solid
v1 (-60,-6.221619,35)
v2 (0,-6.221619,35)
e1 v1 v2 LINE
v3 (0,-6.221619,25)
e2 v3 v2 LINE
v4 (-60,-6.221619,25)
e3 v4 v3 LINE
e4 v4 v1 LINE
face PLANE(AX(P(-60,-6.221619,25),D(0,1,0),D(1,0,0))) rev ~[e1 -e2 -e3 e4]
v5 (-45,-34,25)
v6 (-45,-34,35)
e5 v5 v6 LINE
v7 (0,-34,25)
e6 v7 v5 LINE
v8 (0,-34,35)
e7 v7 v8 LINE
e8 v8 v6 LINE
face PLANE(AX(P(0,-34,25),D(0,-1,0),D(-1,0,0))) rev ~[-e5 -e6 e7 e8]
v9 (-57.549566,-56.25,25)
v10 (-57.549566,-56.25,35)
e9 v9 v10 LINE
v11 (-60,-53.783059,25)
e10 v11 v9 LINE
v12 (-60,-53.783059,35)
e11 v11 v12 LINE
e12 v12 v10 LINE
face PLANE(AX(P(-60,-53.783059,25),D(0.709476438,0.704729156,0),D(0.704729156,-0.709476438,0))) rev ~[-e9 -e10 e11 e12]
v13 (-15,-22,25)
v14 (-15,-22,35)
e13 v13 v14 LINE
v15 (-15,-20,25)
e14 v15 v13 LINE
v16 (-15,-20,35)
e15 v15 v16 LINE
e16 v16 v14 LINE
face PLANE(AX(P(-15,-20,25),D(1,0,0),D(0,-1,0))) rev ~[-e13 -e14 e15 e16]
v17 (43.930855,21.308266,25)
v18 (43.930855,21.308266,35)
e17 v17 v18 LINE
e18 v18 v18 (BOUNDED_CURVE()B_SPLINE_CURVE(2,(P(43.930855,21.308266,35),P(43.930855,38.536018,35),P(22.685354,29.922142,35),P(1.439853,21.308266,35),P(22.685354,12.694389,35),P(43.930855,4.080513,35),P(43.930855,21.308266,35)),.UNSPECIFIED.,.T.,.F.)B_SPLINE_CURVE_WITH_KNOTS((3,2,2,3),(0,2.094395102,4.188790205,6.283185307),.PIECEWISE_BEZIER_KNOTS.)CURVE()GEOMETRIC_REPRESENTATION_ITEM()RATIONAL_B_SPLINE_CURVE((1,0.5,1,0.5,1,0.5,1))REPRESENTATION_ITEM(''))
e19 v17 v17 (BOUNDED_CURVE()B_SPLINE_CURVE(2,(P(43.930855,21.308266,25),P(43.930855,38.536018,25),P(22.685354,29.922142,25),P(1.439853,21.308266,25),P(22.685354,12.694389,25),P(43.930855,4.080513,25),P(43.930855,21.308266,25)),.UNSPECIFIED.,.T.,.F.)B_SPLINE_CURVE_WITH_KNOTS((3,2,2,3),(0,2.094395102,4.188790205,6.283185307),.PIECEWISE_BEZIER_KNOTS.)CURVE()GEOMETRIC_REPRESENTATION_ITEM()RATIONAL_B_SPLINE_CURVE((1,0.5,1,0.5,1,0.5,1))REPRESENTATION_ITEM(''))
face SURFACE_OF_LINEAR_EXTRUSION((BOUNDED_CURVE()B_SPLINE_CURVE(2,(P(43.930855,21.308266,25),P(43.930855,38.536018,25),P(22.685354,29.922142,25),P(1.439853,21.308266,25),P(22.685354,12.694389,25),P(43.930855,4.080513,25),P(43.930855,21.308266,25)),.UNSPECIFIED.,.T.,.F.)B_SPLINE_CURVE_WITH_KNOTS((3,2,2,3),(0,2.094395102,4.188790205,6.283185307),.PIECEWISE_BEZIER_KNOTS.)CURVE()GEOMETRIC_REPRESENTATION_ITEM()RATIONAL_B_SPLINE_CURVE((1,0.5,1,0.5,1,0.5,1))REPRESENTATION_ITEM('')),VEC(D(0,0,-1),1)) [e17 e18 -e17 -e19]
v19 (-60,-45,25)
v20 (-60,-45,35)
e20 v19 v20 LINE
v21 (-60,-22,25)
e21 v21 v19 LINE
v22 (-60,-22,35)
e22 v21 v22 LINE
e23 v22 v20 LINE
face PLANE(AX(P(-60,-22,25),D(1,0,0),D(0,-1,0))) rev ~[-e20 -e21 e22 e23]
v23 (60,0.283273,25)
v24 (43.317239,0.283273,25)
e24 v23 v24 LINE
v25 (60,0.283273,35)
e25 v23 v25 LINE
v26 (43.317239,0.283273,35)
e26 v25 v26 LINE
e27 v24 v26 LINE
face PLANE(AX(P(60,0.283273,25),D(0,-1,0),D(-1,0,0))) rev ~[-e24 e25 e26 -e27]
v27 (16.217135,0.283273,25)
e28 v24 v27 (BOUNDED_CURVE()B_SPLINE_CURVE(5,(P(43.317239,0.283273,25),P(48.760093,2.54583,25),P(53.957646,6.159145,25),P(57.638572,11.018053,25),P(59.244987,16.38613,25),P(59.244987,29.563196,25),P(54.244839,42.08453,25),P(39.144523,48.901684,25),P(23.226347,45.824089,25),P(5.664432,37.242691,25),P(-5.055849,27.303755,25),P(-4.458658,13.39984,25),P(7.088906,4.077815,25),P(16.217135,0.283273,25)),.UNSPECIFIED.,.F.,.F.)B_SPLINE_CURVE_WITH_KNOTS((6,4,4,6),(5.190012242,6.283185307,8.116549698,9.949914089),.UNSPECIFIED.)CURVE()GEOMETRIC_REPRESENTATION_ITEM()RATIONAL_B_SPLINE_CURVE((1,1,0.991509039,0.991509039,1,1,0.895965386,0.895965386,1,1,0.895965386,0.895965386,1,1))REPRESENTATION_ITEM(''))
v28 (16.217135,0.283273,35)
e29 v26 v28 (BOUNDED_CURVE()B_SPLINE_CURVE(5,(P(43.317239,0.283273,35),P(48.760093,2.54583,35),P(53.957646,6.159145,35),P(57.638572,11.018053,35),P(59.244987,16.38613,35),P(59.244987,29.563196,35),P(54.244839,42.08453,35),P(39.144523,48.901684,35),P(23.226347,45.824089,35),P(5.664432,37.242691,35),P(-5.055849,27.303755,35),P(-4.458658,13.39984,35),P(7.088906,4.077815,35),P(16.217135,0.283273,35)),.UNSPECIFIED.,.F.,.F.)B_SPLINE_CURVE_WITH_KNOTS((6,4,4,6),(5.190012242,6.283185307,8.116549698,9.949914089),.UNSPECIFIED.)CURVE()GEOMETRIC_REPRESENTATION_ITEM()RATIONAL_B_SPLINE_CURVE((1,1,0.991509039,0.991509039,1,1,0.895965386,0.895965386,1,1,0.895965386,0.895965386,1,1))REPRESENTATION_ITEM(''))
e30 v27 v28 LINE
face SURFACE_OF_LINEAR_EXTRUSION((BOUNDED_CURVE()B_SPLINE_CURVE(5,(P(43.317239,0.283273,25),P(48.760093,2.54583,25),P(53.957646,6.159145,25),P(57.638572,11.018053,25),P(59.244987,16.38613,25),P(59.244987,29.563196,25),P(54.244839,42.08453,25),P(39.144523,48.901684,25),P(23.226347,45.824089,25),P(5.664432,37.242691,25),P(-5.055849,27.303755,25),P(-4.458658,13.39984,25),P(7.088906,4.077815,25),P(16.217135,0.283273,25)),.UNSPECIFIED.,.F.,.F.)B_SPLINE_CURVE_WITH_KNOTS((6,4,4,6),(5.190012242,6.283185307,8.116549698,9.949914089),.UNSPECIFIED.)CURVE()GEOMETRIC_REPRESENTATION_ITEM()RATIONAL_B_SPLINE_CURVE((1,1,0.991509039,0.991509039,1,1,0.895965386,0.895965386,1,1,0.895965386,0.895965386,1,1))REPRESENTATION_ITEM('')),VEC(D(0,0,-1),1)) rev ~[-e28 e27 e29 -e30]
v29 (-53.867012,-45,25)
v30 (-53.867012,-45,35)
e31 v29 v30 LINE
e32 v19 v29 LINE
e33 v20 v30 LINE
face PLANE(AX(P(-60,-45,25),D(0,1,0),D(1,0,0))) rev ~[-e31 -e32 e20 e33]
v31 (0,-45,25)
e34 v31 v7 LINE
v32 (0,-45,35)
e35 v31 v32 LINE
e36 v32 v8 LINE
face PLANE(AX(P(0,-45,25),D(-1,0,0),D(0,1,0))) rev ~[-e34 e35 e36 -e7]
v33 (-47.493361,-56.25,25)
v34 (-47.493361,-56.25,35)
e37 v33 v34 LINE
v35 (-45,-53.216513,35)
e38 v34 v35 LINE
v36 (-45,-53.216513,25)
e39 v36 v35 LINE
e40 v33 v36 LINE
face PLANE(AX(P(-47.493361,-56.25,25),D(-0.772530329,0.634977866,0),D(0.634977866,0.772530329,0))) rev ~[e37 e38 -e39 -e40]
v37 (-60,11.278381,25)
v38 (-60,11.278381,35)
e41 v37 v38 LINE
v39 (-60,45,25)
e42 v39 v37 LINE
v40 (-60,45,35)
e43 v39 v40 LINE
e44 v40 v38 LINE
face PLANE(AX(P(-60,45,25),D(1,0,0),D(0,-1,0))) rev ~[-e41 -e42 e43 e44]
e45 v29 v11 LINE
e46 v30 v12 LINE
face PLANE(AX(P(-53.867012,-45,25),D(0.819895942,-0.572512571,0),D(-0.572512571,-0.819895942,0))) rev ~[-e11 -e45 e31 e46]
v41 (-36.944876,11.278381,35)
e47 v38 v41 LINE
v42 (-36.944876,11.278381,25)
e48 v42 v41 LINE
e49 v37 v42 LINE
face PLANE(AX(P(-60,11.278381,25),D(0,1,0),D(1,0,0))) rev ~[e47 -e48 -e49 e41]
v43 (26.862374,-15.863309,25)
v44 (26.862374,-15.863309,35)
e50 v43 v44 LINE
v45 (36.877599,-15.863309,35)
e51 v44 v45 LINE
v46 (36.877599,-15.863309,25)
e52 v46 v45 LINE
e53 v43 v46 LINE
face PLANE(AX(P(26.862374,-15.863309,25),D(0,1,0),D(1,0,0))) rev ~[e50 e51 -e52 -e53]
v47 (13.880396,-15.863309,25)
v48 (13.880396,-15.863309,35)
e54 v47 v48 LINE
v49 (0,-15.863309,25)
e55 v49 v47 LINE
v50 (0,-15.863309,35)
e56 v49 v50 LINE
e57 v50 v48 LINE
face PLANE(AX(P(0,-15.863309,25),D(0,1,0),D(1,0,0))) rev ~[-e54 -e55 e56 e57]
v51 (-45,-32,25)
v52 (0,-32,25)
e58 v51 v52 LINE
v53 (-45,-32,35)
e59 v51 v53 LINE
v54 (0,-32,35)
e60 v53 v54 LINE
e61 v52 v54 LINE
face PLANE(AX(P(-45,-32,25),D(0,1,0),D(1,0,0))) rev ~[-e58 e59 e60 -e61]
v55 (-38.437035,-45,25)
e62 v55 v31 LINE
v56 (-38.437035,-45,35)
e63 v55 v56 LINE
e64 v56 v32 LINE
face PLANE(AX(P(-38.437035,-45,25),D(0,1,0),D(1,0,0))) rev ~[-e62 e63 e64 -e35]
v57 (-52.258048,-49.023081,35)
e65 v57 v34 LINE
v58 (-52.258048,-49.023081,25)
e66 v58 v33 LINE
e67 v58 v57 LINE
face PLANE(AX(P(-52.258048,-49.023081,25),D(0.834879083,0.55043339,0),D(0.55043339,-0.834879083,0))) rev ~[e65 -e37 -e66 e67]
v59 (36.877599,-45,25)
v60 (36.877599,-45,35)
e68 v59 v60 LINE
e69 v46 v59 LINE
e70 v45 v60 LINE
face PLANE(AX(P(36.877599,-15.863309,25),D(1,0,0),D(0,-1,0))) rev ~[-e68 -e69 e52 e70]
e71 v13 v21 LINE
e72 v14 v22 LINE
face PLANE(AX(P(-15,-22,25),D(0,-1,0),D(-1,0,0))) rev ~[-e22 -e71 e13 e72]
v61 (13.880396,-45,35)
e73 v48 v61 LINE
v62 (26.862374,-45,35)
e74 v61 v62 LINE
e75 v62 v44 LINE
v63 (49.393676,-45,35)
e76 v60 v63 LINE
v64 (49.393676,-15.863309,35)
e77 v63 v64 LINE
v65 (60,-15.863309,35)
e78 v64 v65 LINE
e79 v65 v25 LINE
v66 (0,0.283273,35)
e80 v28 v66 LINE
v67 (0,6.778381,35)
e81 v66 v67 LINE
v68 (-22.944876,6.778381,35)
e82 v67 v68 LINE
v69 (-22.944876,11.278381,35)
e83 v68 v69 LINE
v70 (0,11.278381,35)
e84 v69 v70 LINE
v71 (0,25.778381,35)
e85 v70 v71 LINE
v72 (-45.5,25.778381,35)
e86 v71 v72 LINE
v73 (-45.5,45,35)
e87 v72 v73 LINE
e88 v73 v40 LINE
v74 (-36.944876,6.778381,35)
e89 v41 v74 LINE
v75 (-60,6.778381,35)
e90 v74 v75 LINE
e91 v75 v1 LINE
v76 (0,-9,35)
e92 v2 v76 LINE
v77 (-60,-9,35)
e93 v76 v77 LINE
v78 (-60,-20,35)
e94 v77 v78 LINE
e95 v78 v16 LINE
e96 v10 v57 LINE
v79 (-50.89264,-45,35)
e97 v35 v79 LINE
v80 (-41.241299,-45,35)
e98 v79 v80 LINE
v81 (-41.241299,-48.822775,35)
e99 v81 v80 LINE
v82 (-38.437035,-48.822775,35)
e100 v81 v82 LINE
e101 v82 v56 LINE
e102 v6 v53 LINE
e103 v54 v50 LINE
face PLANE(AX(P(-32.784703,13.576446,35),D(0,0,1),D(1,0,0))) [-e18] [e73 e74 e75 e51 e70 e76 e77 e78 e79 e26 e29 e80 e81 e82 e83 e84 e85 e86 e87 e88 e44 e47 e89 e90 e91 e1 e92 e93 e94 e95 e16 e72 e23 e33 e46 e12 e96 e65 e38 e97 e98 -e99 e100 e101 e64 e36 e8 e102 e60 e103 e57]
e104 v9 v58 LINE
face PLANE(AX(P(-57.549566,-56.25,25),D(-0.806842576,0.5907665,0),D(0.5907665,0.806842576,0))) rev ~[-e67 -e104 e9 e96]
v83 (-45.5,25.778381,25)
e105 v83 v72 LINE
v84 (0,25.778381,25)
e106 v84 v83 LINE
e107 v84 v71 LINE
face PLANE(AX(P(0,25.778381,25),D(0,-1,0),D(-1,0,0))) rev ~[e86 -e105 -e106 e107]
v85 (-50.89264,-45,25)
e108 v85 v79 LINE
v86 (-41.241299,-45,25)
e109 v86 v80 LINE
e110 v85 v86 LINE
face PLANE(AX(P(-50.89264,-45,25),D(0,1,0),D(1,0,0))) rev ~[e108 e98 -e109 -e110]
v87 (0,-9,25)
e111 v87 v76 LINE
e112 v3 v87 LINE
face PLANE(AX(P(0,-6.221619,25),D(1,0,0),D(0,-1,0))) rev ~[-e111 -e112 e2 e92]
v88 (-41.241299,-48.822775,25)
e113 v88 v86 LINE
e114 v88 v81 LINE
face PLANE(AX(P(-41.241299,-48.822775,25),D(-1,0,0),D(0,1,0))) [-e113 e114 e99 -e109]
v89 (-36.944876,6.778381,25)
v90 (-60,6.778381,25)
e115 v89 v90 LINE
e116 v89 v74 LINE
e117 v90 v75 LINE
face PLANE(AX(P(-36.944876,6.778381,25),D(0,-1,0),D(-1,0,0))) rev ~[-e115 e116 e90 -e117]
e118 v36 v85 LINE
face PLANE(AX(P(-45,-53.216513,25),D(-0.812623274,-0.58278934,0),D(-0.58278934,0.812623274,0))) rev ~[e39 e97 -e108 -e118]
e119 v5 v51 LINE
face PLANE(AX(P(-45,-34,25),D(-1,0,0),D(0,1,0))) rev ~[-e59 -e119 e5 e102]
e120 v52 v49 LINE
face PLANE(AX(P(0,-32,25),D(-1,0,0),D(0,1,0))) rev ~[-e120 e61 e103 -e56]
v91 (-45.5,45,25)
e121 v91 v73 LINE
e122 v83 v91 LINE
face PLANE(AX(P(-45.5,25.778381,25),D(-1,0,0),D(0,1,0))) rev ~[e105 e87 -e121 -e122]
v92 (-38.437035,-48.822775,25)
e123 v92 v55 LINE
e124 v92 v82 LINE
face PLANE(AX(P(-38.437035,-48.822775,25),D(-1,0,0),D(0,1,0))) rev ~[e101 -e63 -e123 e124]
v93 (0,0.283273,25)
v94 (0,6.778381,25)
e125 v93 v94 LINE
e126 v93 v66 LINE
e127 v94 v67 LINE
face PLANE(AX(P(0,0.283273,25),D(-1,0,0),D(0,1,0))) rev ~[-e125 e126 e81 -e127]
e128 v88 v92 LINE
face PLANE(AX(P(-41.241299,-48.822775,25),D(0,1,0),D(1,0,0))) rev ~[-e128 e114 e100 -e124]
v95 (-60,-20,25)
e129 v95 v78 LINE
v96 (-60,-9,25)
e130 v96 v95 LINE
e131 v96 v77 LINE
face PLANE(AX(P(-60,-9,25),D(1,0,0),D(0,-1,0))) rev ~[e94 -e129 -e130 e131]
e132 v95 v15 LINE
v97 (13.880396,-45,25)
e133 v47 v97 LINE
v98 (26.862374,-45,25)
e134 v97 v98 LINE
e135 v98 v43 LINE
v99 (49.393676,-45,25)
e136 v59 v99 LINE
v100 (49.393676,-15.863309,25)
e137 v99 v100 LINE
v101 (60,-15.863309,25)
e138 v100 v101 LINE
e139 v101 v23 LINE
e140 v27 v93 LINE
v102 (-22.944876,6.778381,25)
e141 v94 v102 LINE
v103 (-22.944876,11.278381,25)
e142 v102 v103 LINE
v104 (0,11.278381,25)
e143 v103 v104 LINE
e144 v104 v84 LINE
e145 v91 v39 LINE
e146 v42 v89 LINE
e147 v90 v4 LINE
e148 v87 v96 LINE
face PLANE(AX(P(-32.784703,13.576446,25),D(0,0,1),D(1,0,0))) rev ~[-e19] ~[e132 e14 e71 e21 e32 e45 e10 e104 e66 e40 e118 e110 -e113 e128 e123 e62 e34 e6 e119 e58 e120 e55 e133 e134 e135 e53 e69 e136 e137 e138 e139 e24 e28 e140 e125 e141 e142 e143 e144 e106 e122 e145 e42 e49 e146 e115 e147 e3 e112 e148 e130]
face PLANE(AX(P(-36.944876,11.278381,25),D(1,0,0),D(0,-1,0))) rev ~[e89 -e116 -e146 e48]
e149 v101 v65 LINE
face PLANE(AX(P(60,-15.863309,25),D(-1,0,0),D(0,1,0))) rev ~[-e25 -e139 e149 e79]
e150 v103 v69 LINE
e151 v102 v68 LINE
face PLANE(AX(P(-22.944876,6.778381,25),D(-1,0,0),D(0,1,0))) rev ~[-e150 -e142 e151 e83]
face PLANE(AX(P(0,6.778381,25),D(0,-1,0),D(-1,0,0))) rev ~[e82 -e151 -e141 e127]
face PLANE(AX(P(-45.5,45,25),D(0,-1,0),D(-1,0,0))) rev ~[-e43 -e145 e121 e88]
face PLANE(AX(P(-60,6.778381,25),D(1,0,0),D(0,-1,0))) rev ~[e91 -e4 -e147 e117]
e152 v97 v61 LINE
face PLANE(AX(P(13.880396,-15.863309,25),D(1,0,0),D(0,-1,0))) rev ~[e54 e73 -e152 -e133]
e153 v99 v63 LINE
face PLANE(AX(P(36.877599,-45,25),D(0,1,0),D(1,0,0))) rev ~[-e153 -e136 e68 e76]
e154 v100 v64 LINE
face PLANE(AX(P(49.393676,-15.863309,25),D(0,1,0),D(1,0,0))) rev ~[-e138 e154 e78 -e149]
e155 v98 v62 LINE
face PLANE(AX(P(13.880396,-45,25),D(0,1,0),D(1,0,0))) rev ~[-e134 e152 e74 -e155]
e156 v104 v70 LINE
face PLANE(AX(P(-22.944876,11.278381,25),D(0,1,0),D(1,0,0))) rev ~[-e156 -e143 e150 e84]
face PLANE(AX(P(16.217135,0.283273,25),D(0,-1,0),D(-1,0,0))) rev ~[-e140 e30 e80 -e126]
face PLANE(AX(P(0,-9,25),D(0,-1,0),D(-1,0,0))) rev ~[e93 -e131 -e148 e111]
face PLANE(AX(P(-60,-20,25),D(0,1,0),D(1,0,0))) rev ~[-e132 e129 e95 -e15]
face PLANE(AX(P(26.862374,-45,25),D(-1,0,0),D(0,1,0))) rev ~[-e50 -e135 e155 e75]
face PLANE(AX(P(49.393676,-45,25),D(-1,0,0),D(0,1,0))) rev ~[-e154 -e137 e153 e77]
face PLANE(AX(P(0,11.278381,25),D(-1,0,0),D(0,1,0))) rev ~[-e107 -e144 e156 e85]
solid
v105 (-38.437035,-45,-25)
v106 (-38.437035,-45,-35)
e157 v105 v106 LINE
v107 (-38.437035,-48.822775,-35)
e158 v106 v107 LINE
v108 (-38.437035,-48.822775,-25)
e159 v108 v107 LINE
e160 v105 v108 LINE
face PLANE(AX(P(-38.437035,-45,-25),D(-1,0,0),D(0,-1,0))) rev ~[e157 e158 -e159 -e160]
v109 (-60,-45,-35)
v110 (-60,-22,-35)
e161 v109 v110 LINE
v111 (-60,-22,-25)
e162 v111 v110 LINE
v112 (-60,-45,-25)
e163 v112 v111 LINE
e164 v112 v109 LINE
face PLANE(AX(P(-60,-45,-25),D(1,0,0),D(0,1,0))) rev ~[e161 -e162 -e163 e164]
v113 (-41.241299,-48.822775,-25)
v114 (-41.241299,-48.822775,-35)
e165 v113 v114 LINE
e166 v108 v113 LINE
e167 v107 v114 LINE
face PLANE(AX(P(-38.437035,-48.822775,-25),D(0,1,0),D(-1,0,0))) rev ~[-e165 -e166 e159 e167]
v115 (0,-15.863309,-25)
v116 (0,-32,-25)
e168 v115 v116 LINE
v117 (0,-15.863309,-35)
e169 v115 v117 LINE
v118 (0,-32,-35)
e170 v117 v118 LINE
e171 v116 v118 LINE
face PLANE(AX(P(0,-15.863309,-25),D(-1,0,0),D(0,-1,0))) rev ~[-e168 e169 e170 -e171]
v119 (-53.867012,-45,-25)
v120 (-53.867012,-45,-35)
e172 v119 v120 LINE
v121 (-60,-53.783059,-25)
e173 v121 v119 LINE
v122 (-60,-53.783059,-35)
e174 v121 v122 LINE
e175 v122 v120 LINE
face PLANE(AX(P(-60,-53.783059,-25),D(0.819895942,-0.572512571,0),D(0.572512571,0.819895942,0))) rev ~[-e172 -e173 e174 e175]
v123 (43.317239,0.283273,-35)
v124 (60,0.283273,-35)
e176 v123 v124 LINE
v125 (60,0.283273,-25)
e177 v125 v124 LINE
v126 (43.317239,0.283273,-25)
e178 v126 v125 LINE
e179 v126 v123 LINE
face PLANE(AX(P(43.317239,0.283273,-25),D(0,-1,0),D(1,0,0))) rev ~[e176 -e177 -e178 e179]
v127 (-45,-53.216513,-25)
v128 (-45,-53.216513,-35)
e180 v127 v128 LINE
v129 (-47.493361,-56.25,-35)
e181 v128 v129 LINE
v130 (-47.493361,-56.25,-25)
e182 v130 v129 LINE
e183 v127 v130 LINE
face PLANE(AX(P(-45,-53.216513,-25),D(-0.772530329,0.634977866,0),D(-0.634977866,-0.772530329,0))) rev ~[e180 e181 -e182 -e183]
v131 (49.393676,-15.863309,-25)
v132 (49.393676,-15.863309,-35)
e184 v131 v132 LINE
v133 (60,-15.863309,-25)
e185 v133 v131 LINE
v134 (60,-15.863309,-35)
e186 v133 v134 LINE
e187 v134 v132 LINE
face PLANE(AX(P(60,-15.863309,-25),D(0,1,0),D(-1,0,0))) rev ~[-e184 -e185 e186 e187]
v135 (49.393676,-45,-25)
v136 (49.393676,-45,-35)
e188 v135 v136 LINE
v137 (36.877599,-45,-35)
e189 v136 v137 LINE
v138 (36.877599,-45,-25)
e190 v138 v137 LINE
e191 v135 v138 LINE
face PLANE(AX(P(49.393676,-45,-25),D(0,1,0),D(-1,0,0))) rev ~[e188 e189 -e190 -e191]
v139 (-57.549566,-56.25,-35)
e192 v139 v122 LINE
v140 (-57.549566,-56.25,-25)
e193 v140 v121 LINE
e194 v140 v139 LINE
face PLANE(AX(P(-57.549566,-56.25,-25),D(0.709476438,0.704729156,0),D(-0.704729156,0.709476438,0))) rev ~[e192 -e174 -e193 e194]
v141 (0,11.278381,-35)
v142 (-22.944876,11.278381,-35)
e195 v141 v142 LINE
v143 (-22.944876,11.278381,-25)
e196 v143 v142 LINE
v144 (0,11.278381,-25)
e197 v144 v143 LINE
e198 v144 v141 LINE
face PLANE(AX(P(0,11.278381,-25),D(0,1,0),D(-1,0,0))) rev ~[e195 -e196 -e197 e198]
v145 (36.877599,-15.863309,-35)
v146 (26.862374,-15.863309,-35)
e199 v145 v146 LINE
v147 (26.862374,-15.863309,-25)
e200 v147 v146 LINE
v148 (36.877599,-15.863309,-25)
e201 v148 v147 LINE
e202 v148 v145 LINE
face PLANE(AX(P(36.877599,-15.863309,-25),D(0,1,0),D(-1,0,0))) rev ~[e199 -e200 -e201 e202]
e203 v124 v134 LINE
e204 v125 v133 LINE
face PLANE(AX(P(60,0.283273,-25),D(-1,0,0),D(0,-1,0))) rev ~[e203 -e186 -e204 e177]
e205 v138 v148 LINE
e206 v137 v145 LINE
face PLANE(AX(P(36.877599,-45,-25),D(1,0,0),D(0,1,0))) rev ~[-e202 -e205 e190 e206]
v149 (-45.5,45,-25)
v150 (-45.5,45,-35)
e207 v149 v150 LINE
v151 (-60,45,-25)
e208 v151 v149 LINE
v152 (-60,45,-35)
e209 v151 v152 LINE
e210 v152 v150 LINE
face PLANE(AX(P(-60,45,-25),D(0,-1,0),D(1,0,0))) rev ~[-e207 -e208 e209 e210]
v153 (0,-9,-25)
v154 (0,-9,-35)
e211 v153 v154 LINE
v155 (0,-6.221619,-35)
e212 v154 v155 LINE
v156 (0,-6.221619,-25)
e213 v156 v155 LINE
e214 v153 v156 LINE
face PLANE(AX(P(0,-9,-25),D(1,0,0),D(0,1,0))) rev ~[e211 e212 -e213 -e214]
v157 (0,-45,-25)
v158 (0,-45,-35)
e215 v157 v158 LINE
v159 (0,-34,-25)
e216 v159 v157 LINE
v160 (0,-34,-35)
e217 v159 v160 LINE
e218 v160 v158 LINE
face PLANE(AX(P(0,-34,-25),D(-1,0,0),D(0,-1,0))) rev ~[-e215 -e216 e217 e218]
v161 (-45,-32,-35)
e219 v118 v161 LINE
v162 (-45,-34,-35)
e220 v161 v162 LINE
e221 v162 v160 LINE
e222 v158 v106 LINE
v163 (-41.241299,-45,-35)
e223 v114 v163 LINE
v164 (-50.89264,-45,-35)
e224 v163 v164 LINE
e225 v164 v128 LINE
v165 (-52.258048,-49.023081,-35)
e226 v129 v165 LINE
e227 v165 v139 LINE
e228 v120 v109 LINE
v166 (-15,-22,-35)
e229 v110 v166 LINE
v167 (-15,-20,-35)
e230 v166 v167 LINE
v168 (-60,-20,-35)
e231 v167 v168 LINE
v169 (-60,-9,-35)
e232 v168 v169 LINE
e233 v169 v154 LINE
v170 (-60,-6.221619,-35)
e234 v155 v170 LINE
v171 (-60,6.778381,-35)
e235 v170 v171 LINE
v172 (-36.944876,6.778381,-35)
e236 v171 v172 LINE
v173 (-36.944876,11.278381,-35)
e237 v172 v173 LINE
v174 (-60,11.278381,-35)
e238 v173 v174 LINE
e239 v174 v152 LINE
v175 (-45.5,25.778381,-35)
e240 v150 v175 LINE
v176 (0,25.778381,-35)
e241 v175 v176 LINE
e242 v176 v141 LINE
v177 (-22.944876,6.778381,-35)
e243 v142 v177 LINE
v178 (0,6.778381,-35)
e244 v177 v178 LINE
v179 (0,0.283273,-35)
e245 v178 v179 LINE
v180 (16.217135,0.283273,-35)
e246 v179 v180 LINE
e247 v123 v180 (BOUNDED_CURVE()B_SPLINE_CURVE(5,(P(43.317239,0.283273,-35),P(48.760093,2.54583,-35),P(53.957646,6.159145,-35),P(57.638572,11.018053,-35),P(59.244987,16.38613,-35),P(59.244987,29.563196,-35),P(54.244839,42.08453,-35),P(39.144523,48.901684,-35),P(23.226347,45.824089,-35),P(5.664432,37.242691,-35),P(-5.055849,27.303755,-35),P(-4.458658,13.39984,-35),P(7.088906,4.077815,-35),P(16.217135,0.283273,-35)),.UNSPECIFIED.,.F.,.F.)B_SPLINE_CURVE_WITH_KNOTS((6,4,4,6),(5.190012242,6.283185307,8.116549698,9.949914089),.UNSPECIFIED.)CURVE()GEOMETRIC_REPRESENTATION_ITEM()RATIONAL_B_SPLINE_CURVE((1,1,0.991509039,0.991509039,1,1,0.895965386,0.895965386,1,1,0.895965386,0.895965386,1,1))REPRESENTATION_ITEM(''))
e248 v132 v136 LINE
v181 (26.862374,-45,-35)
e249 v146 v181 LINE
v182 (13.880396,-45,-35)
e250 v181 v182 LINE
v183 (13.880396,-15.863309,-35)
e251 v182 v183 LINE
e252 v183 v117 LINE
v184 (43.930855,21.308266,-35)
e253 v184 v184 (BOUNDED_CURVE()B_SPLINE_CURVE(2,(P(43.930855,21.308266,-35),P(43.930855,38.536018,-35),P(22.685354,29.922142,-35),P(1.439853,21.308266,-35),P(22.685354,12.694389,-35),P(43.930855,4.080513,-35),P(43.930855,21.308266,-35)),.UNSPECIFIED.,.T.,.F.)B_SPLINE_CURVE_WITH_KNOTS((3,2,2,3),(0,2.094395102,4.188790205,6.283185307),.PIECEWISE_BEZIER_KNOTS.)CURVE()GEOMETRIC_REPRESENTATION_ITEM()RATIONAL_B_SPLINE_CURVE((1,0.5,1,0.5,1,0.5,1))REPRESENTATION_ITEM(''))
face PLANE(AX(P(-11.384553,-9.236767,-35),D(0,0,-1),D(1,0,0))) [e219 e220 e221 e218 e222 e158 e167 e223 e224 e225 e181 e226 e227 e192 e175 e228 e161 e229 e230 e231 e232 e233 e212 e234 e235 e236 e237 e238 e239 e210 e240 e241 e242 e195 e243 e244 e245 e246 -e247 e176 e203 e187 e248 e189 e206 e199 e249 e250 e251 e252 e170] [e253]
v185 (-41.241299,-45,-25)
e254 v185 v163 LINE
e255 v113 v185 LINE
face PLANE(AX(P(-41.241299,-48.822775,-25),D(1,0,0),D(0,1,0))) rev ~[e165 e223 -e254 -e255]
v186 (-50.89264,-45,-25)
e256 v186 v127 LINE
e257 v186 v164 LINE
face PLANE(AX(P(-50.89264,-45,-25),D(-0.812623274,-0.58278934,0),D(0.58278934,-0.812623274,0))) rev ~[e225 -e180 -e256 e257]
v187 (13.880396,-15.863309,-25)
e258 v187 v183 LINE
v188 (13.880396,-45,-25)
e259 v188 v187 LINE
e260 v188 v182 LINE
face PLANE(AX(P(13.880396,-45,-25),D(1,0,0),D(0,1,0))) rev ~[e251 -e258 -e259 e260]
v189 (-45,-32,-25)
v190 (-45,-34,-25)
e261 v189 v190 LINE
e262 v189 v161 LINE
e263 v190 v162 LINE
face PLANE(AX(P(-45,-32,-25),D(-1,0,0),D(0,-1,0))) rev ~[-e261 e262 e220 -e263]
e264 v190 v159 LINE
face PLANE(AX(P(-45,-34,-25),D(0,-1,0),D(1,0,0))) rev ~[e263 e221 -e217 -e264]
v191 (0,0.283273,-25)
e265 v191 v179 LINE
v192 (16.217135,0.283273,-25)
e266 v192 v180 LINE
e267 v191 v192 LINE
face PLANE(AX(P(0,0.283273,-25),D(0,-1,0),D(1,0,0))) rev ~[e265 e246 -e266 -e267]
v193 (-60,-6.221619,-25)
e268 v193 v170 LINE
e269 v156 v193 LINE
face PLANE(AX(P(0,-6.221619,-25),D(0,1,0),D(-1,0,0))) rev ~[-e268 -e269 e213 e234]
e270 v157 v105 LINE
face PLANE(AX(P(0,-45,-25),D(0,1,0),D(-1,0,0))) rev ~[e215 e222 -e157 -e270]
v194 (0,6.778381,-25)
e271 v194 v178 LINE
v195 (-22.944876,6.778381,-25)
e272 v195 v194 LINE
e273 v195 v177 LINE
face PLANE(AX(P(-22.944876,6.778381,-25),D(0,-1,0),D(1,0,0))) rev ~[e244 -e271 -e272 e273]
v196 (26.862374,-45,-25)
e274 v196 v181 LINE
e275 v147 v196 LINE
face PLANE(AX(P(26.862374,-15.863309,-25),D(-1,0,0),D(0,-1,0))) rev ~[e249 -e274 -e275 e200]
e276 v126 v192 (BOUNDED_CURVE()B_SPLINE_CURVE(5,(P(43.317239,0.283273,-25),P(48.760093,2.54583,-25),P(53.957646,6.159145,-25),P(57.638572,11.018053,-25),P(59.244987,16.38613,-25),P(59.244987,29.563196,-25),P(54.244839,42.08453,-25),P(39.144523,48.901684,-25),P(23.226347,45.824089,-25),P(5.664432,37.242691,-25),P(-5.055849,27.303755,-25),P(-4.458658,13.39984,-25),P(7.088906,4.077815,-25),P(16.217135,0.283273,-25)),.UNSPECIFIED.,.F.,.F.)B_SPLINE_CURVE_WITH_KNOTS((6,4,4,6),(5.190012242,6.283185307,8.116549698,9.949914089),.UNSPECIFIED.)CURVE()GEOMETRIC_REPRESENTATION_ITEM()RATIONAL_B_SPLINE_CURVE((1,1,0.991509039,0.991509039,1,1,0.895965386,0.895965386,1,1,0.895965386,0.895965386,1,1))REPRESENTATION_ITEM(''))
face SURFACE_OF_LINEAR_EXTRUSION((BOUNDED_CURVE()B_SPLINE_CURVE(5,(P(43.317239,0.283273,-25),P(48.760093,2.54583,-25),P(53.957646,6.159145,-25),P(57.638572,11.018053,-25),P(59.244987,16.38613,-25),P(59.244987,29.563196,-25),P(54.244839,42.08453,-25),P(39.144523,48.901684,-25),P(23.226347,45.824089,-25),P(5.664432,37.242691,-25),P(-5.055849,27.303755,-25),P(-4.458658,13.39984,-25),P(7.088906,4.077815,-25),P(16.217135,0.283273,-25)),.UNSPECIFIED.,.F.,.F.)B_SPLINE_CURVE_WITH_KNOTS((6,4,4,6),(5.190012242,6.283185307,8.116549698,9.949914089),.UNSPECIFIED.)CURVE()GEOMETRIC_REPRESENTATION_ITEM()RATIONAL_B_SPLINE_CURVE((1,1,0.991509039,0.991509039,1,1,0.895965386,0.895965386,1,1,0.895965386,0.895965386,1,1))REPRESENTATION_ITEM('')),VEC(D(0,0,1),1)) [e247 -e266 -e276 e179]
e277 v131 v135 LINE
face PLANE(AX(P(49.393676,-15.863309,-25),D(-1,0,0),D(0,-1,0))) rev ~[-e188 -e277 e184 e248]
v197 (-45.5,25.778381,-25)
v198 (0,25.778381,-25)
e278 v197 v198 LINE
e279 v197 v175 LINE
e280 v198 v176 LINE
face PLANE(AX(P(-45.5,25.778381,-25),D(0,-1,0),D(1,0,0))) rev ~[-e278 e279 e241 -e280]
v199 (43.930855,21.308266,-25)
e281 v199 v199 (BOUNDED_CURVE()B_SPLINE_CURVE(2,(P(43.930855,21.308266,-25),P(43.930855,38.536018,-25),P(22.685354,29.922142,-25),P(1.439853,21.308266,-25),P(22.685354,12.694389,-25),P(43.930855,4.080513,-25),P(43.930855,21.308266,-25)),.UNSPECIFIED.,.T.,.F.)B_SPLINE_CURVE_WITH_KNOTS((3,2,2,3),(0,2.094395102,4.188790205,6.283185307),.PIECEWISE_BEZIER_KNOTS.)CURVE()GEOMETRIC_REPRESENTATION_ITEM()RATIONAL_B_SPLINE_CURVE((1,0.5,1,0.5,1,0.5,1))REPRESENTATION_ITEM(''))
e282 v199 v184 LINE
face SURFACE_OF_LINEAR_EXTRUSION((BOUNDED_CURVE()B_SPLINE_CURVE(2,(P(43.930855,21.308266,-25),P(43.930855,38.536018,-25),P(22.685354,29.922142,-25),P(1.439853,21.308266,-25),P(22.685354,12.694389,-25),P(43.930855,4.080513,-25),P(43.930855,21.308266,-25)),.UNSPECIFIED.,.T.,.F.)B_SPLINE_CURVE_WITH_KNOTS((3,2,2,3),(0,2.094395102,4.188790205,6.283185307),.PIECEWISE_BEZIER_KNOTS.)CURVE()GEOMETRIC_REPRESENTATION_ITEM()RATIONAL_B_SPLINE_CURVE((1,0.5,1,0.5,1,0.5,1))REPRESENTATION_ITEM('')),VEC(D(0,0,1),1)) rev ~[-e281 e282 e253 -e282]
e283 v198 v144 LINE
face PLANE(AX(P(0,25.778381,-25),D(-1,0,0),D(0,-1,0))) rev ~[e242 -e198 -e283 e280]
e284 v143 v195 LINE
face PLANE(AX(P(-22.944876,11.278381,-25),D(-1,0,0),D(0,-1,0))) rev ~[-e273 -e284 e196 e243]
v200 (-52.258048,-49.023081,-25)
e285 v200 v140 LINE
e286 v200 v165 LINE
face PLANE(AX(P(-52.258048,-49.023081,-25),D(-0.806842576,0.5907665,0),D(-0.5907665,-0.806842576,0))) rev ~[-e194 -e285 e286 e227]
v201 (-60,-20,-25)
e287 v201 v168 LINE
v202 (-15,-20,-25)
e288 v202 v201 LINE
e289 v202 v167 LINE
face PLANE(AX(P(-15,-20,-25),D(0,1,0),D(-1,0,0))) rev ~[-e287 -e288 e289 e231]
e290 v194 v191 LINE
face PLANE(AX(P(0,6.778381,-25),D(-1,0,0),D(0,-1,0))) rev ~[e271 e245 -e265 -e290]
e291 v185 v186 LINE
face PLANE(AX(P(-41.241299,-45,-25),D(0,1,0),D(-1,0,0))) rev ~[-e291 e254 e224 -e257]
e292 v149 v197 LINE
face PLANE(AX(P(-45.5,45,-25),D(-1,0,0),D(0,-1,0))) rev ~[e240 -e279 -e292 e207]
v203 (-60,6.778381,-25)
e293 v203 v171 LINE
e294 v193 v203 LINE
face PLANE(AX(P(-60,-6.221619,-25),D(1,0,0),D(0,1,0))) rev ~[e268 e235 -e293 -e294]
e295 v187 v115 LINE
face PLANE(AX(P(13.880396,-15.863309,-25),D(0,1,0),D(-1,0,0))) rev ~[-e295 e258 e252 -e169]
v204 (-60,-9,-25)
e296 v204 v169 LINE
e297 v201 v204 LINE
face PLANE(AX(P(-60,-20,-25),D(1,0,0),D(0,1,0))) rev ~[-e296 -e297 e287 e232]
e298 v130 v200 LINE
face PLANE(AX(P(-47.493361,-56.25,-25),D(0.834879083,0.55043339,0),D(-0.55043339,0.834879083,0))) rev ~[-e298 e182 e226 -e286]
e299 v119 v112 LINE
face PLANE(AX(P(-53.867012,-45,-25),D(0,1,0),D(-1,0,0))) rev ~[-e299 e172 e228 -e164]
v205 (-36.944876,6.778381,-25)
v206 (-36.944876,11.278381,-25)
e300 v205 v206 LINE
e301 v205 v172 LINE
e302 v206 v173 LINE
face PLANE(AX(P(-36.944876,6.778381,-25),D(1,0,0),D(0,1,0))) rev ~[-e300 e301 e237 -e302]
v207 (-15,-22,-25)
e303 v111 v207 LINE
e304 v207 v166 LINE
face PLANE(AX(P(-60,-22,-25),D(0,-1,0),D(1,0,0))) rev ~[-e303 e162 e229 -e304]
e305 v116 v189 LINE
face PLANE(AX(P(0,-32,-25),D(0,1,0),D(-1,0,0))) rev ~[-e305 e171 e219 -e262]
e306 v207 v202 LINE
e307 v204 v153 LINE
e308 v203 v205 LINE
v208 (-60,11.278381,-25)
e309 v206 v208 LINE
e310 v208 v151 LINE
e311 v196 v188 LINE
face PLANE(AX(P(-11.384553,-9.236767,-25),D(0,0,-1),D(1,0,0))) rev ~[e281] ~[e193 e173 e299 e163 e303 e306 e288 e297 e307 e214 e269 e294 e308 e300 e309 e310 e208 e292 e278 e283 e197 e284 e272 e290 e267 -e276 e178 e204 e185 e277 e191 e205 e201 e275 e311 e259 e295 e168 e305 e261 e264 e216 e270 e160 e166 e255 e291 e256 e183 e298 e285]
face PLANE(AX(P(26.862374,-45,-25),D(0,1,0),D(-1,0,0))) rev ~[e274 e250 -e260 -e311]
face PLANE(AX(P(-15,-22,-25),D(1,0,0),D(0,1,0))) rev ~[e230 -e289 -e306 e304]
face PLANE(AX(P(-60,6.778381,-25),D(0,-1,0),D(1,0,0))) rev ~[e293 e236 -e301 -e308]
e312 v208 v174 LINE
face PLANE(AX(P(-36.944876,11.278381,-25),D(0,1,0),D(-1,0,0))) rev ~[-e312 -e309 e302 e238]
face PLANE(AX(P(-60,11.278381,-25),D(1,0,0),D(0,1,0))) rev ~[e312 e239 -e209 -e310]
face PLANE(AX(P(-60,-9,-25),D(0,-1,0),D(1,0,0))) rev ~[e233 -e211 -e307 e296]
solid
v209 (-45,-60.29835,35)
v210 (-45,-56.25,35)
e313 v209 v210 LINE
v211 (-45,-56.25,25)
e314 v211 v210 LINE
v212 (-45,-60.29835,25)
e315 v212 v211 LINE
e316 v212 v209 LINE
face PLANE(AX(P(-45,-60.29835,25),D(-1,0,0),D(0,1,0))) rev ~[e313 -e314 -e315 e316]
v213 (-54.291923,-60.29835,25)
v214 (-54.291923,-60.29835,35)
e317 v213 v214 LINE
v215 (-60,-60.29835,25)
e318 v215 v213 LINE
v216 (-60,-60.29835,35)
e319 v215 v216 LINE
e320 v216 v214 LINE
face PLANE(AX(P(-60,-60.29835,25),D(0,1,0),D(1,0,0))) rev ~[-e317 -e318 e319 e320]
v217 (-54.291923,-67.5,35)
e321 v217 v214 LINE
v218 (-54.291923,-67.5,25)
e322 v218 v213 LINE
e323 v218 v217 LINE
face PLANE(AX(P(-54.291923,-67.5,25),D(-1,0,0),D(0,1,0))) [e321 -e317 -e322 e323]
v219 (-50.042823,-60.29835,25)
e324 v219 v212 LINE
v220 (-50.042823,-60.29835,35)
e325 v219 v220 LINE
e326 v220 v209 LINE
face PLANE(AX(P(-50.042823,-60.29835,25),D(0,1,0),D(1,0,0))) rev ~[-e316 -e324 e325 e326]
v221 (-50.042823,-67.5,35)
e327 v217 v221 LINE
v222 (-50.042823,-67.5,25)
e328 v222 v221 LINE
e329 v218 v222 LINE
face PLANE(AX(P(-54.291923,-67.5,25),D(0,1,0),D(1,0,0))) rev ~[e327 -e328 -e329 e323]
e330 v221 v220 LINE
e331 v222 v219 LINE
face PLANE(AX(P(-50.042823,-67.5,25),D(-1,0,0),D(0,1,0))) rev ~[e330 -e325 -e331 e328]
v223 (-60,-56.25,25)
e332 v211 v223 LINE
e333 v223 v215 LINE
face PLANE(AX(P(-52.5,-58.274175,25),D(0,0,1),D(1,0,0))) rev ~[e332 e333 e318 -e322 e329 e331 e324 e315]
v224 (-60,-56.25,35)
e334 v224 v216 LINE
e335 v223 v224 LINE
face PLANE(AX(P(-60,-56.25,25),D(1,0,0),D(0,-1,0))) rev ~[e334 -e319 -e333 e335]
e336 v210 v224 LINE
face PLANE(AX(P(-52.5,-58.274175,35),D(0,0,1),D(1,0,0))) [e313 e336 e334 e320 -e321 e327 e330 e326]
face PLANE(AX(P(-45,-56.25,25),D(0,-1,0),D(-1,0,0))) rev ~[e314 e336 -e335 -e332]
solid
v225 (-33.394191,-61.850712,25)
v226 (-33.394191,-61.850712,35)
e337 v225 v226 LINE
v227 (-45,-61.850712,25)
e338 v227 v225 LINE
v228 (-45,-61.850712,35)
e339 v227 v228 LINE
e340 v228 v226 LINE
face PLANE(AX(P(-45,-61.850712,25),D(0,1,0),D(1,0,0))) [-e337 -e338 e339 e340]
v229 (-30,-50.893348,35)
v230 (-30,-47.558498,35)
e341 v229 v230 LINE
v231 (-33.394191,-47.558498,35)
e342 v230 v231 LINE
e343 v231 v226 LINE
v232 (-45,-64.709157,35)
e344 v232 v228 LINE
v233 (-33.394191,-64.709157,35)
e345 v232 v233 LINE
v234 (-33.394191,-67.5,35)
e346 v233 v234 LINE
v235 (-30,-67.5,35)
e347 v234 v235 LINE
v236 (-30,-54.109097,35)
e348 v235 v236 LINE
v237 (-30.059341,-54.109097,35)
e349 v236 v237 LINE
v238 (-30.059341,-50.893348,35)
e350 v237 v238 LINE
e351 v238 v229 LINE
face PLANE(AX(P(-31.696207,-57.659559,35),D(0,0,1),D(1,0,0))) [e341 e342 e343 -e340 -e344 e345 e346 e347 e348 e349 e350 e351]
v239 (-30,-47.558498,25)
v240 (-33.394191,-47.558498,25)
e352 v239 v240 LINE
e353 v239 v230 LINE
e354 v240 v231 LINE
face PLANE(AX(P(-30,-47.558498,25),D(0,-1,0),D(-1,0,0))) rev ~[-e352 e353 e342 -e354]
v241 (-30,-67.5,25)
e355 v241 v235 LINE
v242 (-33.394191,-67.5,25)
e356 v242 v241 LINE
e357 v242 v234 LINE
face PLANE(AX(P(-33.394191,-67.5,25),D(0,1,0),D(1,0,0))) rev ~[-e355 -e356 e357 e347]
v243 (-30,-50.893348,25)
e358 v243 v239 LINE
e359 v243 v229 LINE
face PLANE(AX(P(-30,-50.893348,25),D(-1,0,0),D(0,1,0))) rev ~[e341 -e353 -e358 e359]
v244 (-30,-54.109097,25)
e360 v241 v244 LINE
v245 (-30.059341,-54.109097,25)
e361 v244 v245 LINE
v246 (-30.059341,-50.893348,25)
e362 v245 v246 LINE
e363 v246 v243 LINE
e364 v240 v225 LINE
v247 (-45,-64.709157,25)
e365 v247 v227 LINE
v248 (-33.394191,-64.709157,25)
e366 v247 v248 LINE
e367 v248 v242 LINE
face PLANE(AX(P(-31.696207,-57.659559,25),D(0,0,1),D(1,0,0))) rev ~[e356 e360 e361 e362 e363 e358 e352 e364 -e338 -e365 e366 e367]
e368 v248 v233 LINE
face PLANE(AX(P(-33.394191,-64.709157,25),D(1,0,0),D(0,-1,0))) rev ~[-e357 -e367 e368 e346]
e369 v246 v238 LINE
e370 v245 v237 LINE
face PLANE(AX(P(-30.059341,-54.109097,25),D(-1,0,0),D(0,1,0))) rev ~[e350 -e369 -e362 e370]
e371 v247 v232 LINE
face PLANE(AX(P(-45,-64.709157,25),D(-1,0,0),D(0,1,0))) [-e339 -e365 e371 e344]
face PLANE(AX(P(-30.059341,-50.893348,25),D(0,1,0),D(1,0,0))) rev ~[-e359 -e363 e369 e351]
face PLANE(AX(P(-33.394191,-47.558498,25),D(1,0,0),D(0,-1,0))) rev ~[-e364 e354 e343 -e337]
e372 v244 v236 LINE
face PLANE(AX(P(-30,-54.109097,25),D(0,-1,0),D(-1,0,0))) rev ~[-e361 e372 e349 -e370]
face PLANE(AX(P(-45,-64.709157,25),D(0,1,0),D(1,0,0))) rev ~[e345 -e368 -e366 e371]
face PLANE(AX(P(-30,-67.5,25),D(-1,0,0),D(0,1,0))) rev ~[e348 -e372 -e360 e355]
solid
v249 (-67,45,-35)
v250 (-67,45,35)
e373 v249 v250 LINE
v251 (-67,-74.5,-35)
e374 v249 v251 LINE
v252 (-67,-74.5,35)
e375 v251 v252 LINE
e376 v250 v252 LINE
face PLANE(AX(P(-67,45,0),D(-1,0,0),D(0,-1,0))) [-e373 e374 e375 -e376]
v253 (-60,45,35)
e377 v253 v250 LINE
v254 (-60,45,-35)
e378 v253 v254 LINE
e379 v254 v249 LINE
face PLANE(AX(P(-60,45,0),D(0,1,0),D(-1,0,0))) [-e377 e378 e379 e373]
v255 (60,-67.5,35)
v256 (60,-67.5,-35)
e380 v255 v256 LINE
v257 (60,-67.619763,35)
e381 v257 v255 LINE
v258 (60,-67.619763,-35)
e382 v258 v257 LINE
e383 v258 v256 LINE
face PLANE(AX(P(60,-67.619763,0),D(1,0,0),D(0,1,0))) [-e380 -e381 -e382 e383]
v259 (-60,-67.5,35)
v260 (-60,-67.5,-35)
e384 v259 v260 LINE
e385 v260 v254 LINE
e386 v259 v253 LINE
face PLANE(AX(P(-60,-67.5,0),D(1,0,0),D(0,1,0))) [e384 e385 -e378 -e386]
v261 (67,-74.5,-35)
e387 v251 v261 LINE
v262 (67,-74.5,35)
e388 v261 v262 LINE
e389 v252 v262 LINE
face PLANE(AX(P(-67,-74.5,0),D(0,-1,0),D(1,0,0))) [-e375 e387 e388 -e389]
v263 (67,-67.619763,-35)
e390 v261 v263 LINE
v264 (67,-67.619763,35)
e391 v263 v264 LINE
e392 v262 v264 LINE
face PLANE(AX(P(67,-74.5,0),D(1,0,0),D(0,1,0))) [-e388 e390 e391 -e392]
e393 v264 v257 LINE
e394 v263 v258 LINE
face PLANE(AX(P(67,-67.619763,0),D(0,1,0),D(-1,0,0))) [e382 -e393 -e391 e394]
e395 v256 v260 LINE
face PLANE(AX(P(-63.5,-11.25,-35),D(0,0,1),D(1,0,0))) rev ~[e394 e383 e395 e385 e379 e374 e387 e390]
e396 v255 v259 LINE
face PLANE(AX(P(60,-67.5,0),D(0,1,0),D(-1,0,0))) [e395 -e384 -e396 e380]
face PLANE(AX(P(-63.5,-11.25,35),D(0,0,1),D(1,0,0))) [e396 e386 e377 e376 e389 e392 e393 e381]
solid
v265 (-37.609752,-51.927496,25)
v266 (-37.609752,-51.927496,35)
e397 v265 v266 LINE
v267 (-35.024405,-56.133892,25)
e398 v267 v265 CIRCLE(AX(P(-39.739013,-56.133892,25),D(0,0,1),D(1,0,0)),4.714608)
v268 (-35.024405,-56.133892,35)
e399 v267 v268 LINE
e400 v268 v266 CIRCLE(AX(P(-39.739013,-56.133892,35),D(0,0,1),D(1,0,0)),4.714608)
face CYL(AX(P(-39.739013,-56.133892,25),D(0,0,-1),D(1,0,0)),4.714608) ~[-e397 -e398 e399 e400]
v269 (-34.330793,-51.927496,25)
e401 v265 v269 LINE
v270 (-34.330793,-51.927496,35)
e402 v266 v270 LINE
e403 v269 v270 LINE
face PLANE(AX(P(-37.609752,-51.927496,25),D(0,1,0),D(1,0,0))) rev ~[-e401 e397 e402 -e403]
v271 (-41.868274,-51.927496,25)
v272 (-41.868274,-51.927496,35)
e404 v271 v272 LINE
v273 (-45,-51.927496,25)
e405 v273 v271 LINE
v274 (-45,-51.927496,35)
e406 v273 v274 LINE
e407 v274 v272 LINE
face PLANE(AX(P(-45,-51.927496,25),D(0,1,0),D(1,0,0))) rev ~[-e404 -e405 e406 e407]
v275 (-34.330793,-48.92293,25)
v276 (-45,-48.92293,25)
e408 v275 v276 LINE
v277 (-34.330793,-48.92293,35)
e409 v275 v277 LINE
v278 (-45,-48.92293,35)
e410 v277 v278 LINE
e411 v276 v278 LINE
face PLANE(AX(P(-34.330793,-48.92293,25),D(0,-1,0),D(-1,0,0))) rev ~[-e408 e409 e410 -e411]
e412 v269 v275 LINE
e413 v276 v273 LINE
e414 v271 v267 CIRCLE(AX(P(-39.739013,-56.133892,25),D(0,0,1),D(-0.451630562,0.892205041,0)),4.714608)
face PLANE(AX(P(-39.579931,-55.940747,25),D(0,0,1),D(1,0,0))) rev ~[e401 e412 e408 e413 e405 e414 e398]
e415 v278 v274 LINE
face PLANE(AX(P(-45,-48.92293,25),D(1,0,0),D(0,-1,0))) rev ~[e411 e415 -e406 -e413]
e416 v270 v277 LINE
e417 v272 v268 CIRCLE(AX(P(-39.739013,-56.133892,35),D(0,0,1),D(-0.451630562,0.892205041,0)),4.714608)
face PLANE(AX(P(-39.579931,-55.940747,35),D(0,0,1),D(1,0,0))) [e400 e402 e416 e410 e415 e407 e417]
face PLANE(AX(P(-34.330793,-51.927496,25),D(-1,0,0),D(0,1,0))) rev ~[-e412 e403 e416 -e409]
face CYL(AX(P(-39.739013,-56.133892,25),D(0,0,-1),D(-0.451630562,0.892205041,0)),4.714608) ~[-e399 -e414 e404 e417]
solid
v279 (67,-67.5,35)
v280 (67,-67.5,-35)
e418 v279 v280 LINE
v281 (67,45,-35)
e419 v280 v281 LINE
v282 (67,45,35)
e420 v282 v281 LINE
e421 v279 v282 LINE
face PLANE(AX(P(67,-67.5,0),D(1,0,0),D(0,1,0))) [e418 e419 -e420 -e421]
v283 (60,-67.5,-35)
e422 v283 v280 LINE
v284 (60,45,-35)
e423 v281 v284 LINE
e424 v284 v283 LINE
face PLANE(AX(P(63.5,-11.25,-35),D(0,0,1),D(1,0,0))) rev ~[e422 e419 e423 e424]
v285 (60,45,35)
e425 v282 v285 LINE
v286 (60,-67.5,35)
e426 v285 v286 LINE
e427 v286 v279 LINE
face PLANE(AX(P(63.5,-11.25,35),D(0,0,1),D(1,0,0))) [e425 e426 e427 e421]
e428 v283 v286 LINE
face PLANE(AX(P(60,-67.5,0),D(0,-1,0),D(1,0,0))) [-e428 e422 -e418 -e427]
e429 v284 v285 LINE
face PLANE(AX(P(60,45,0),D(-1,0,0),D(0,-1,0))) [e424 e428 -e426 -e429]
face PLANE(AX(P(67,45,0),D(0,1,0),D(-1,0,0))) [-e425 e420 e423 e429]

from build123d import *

# Parameters (mm, degrees)
F1_START = 25
F0_W     = 2.8042644262
F0_H     = 3.8227754831
F1_DEPTH = 10
F0_W_2   = 4.249099642
F0_H_2   = 7.2016502917
F0_W_3   = 0.595510006
F0_H_3   = 2.8584450483
F0_W_4   = 11.6058085859
F2_DEPTH = 35
F3_START = 50
F3_DEPTH = 10


with BuildPart() as f1:
    # F0 (on Top) → F1 (new body)
    with BuildSketch(Plane.XY.offset(F1_START)):
        Polygon((-45.5, 45), (-60, 45), (-60, 11.2783805579), (-36.944876343, 11.2783805579), (-36.944876343, 6.7783805579), (-60, 6.7783805579), (-60, -6.2216194421), (0, -6.2216194421), (0, 0.2832732425), (0, 6.7783805579), (-22.944876343, 6.7783805579), (-22.944876343, 11.2783805579), (0, 11.2783805579), (0, 25.7783805579), (-45.5, 25.7783805579), align=None)
        Polygon((0, -9), (-60, -9), (-60, -20), (-15, -20), (-15, -22), (-60, -22), (-60, -45), (-53.8670122623, -45), (-50.8926399052, -45), (-45, -45), (-41.241299361, -45), (-38.4370349348, -45), (-30, -45), (-15, -45), (0, -45), (0, -34), (-45, -34), (-45, -32), (0, -32), (0, -15.863308683), align=None)
        with BuildLine():
            Line((60, -15.863308683), (60, 0.2832732425))
            Line((60, 0.2832732425), (43.3172393359, 0.2832732425))
            add(Edge.make_bspline(
                [(16.2171352886, 0.2832732425), (29.7671873122, -5.3493892775), (43.3172393359, 0.2832732425)],
                knots=[4.2347657185, 4.2347657185, 4.2347657185, 5.1900122422, 5.1900122422, 5.1900122422], degree=2, weights=[1, 0.8880899447, 1]))
            Line((16.2171352886, 0.2832732425), (0, 0.2832732425))
            Line((0, 0.2832732425), (0, -6.2216194421))
            Line((0, -6.2216194421), (0, -9))
            Line((0, -9), (0, -15.863308683))
            Line((0, -15.863308683), (13.8803962618, -15.863308683))
            Line((13.8803962618, -15.863308683), (26.8623735756, -15.863308683))
            Line((26.8623735756, -15.863308683), (36.8775986135, -15.863308683))
            Line((36.8775986135, -15.863308683), (49.3936762214, -15.863308683))
            Line((49.3936762214, -15.863308683), (60, -15.863308683))
        make_face()
        with BuildLine():
            Line((16.2171352886, 0.2832732425), (43.3172393359, 0.2832732425))
            add(Edge.make_bspline(
                [(43.3172393359, 0.2832732425), (59.2449872969, 6.9043274505), (59.2449872969, 21.3082656264)],
                knots=[5.1900122422, 5.1900122422, 5.1900122422, 6.2831853072, 6.2831853072, 6.2831853072], degree=2, weights=[1, 0.8543037278, 1]))
            add(Edge.make_bspline(
                [(59.2449872969, 21.3082656264), (59.2449872969, 63.4241222907), (14.4453896272, 41.5333897572), (-30.3542080425, 19.6426572236), (16.2171352886, 0.2832732425)],
                knots=[0, 0, 0, 2.1173828593, 2.1173828593, 4.2347657185, 4.2347657185, 4.2347657185], degree=2, weights=[1, 0.4900132015, 1, 0.4900132015, 1]))
        make_face()
        with BuildLine():
            add(Edge.make_bspline(
                [(43.9308546484, 21.3082656264), (43.9308546484, 38.5360179263), (22.6853536442, 29.9221417764), (1.43985264, 21.3082656264), (22.6853536442, 12.6943894765), (43.9308546484, 4.0805133266), (43.9308546484, 21.3082656264)],
                knots=[0, 0, 0, 2.0943951024, 2.0943951024, 4.1887902048, 4.1887902048, 6.2831853072, 6.2831853072, 6.2831853072], degree=2, weights=[1, 0.5, 1, 0.5, 1, 0.5, 1]))
        make_face(mode=Mode.SUBTRACT)
        with BuildLine():
            add(Edge.make_bspline(
                [(16.2171352886, 0.2832732425), (29.7671873122, -5.3493892775), (43.3172393359, 0.2832732425)],
                knots=[4.2347657185, 4.2347657185, 4.2347657185, 5.1900122422, 5.1900122422, 5.1900122422], degree=2, weights=[1, 0.8880899447, 1]))
            Line((43.3172393359, 0.2832732425), (16.2171352886, 0.2832732425))
        make_face()
        Polygon((26.8623735756, -15.863308683), (13.8803962618, -15.863308683), (13.8803962618, -45), (15, -45), (26.8623735756, -45), align=None)
        Polygon((49.3936762214, -45), (49.3936762214, -15.863308683), (36.8775986135, -15.863308683), (36.8775986135, -45), (45, -45), align=None)
        Polygon((-53.8670122623, -45), (-60, -53.7830591202), (-57.5495660305, -56.25), (-52.2580482066, -49.0230806172), (-47.4933609366, -56.25), (-45, -53.2165132463), (-50.8926399052, -45), align=None)
        with Locations((-39.8391671479, -46.9113877416)):
            Rectangle(F0_W, F0_H)
    extrude(amount=F1_DEPTH)


with BuildPart() as f1b:
    # F0 (on Top) → F1, piece 2 (new body)
    with BuildSketch(Plane.XY.offset(F1_START)):
        Polygon((-60, -56.25), (-60, -60.2983497083), (-54.2919225991, -60.2983497083), (-50.042822957, -60.2983497083), (-45, -60.2983497083), (-45, -56.25), (-47.4933609366, -56.25), (-57.5495660305, -56.25), align=None)
        with Locations((-52.1673727781, -63.8991748542)):
            Rectangle(F0_W_2, F0_H_2)
    extrude(amount=F1_DEPTH)


with BuildPart() as f1c:
    # F0 (on Top) → F1, piece 3 (new body)
    with BuildSketch(Plane.XY.offset(F1_START)):
        with BuildLine():
            Line((-37.6097518513, -51.9274957478), (-41.8682735851, -51.9274957478))
            ThreePointArc((-41.8682735851, -51.9274957478), (-42.2077062115, -60.1504925618), (-35.0244051495, -56.1338923872))
            ThreePointArc((-35.0244051495, -56.1338923872), (-35.7224125436, -53.6651988938), (-37.6097518513, -51.9274957478))
        make_face()
        with BuildLine():
            Line((-45, -48.9229299128), (-45, -51.9274957478))
            Line((-45, -51.9274957478), (-41.8682735851, -51.9274957478))
            ThreePointArc((-41.8682735851, -51.9274957478), (-39.7390127182, -51.4192848184), (-37.6097518513, -51.9274957478))
            Line((-37.6097518513, -51.9274957478), (-34.3307927251, -51.9274957478))
            Line((-34.3307927251, -51.9274957478), (-34.3307927251, -48.9229299128))
            Line((-34.3307927251, -48.9229299128), (-45, -48.9229299128))
        make_face()
        with BuildLine():
            ThreePointArc((-37.6097518513, -51.9274957478), (-39.7390127182, -51.4192848184), (-41.8682735851, -51.9274957478))
            Line((-41.8682735851, -51.9274957478), (-37.6097518513, -51.9274957478))
        make_face()
    extrude(amount=F1_DEPTH)


with BuildPart() as f1d:
    # F0 (on Top) → F1, piece 4 (new body)
    with BuildSketch(Plane.XY.offset(F1_START)):
        Polygon((-33.3941914141, -64.7091567516), (-33.3941914141, -67.5), (-30, -67.5), (-30, -54.1090965271), (-30.0593413413, -54.1090965271), (-30.0593413413, -50.8933477104), (-30, -50.8933477104), (-30, -47.5584976375), (-33.3941914141, -47.5584976375), (-33.3941914141, -61.8507117033), (-32.7986814082, -61.8507117033), (-32.7986814082, -64.7091567516), align=None)
        with Locations((-33.0964364111, -63.2799342275)):
            Rectangle(F0_W_3, F0_H_3)
        with Locations((-39.1970957071, -63.2799342275)):
            Rectangle(F0_W_4, F0_H_3)
    extrude(amount=F1_DEPTH)


with BuildPart() as f2:
    # F0 (on Top) → F2 (new body, symmetric)
    with BuildSketch(Plane.XY):
        Polygon((-60, 11.2783805579), (-60, 45), (-67, 45), (-67, -67.5), (-60, -67.5), (-60, -60.2983497083), (-60, -56.25), (-60, -53.7830591202), (-60, -45), (-60, -22), (-60, -20), (-60, -9), (-60, -6.2216194421), (-60, 6.7783805579), align=None)
        Polygon((-60, -67.5), (-67, -67.5), (-67, -74.5), (67, -74.5), (67, -67.6197633147), (60, -67.6197633147), (60, -67.5), (45, -67.5), (30, -67.5), (15, -67.5), (-15, -67.5), (-30, -67.5), (-33.3941914141, -67.5), (-45, -67.5), (-50.042822957, -67.5), (-54.2919225991, -67.5), align=None)
    extrude(amount=F2_DEPTH, both=True)


with BuildPart() as f2b:
    # F0 (on Top) → F2, piece 2 (new body, symmetric)
    with BuildSketch(Plane.XY):
        Polygon((67, 45), (60, 45), (60, 0.2832732425), (60, -15.863308683), (60, -45), (60, -67.5), (67, -67.5), align=None)
    extrude(amount=F2_DEPTH, both=True)


with BuildPart() as f3:
    # F1_face (on face) → F3 (new body)
    with BuildSketch(Plane(origin=(-3.5850456834, -3.1671407967, 25), x_dir=(1, 0, 0), z_dir=(0, 0, -1)).offset(F3_START)):
        with BuildLine():
            Line((-41.9149543166, -28.9455213546), (3.5850456834, -28.9455213546))
            Line((3.5850456834, -28.9455213546), (3.5850456834, -14.4455213546))
            Line((3.5850456834, -14.4455213546), (-19.3598306596, -14.4455213546))
            Line((-19.3598306596, -14.4455213546), (-19.3598306596, -9.9455213546))
            Line((-19.3598306596, -9.9455213546), (3.5850456834, -9.9455213546))
            Line((3.5850456834, -9.9455213546), (3.5850456834, -3.4504140392))
            Line((3.5850456834, -3.4504140392), (19.802180972, -3.4504140392))
            add(Edge.make_bspline(
                [(46.9022850193, -3.4504140392), (52.3451388026, -5.7129705559), (57.5426912766, -9.3262859045), (61.223618178, -14.1851937838), (62.8300329803, -19.5532711917), (62.8300329803, -32.7303367264), (57.8298847199, -45.2516703649), (42.7295689922, -52.0688244441), (26.8113930228, -48.9912297267), (9.2494775985, -40.409831381), (-1.4708030001, -30.4708956345), (-0.8736119478, -16.5669809663), (10.6739517544, -7.2449555287), (19.802180972, -3.4504140392)],
                knots=[5.1900122422, 5.1900122422, 5.1900122422, 5.1900122422, 5.1900122422, 5.1900122422, 6.2831853072, 6.2831853072, 6.2831853072, 6.2831853072, 8.1165496981, 8.1165496981, 8.1165496981, 8.1165496981, 9.9499140891, 9.9499140891, 9.9499140891, 9.9499140891, 9.9499140891, 9.9499140891], degree=5, weights=[1, 1, 0.9915090385, 0.9915090385, 1, 1, 0.8959653861, 0.8959653861, 1, 1, 0.8959653861, 0.8959653861, 1, 1]))
            Line((46.9022850193, -3.4504140392), (63.5850456834, -3.4504140392))
            Line((63.5850456834, -3.4504140392), (63.5850456834, 12.6961678864))
            Line((63.5850456834, 12.6961678864), (52.9787219048, 12.6961678864))
            Line((52.9787219048, 12.6961678864), (52.9787219048, 41.8328592033))
            Line((52.9787219048, 41.8328592033), (40.4626442969, 41.8328592033))
            Line((40.4626442969, 41.8328592033), (40.4626442969, 12.6961678864))
            Line((40.4626442969, 12.6961678864), (30.447419259, 12.6961678864))
            Line((30.447419259, 12.6961678864), (30.447419259, 41.8328592033))
            Line((30.447419259, 41.8328592033), (17.4654419452, 41.8328592033))
            Line((17.4654419452, 41.8328592033), (17.4654419452, 12.6961678864))
            Line((17.4654419452, 12.6961678864), (3.5850456834, 12.6961678864))
            Line((3.5850456834, 12.6961678864), (3.5850456834, 28.8328592033))
            Line((3.5850456834, 28.8328592033), (-41.4149543166, 28.8328592033))
            Line((-41.4149543166, 28.8328592033), (-41.4149543166, 30.8328592033))
            Line((-41.4149543166, 30.8328592033), (3.5850456834, 30.8328592033))
            Line((3.5850456834, 30.8328592033), (3.5850456834, 41.8328592033))
            Line((3.5850456834, 41.8328592033), (-34.8519892513, 41.8328592033))
            Line((-34.8519892513, 41.8328592033), (-34.8519892513, 45.6556346865))
            Line((-34.8519892513, 45.6556346865), (-37.6562536776, 45.6556346865))
            Line((-37.6562536776, 45.6556346865), (-37.6562536776, 41.8328592033))
            Line((-37.6562536776, 41.8328592033), (-47.3075942218, 41.8328592033))
            Line((-47.3075942218, 41.8328592033), (-41.4149543166, 50.0493724496))
            Line((-41.4149543166, 50.0493724496), (-43.9083152532, 53.0828592033))
            Line((-43.9083152532, 53.0828592033), (-48.6730025232, 45.8559398205))
            Line((-48.6730025232, 45.8559398205), (-53.9645203471, 53.0828592033))
            Line((-53.9645203471, 53.0828592033), (-56.4149543166, 50.6159183235))
            Line((-56.4149543166, 50.6159183235), (-50.2819665789, 41.8328592033))
            Line((-50.2819665789, 41.8328592033), (-56.4149543166, 41.8328592033))
            Line((-56.4149543166, 41.8328592033), (-56.4149543166, 18.8328592033))
            Line((-56.4149543166, 18.8328592033), (-11.4149543166, 18.8328592033))
            Line((-11.4149543166, 18.8328592033), (-11.4149543166, 16.8328592033))
            Line((-11.4149543166, 16.8328592033), (-56.4149543166, 16.8328592033))
            Line((-56.4149543166, 16.8328592033), (-56.4149543166, 5.8328592033))
            Line((-56.4149543166, 5.8328592033), (3.5850456834, 5.8328592033))
            Line((3.5850456834, 5.8328592033), (3.5850456834, 3.0544786454))
            Line((3.5850456834, 3.0544786454), (-56.4149543166, 3.0544786454))
            Line((-56.4149543166, 3.0544786454), (-56.4149543166, -9.9455213546))
            Line((-56.4149543166, -9.9455213546), (-33.3598306596, -9.9455213546))
            Line((-33.3598306596, -9.9455213546), (-33.3598306596, -14.4455213546))
            Line((-33.3598306596, -14.4455213546), (-56.4149543166, -14.4455213546))
            Line((-56.4149543166, -14.4455213546), (-56.4149543166, -48.1671407967))
            Line((-56.4149543166, -48.1671407967), (-41.9149543166, -48.1671407967))
            Line((-41.9149543166, -48.1671407967), (-41.9149543166, -28.9455213546))
        make_face()
        with BuildLine():
            add(Edge.make_bspline(
                [(47.5159003318, -24.4754064231), (47.5159003318, -41.703158723), (26.2703993276, -33.089282573), (5.0248983234, -24.4754064231), (26.2703993276, -15.8615302732), (47.5159003318, -7.2476541232), (47.5159003318, -24.4754064231)],
                knots=[0, 0, 0, 2.0943951024, 2.0943951024, 4.1887902048, 4.1887902048, 6.2831853072, 6.2831853072, 6.2831853072], degree=2, weights=[1, 0.5, 1, 0.5, 1, 0.5, 1]))
        make_face(mode=Mode.SUBTRACT)
    extrude(amount=F3_DEPTH)


solid = Compound([f1.part, f1b.part, f1c.part, f1d.part, f2.part, f2b.part, f3.part])
